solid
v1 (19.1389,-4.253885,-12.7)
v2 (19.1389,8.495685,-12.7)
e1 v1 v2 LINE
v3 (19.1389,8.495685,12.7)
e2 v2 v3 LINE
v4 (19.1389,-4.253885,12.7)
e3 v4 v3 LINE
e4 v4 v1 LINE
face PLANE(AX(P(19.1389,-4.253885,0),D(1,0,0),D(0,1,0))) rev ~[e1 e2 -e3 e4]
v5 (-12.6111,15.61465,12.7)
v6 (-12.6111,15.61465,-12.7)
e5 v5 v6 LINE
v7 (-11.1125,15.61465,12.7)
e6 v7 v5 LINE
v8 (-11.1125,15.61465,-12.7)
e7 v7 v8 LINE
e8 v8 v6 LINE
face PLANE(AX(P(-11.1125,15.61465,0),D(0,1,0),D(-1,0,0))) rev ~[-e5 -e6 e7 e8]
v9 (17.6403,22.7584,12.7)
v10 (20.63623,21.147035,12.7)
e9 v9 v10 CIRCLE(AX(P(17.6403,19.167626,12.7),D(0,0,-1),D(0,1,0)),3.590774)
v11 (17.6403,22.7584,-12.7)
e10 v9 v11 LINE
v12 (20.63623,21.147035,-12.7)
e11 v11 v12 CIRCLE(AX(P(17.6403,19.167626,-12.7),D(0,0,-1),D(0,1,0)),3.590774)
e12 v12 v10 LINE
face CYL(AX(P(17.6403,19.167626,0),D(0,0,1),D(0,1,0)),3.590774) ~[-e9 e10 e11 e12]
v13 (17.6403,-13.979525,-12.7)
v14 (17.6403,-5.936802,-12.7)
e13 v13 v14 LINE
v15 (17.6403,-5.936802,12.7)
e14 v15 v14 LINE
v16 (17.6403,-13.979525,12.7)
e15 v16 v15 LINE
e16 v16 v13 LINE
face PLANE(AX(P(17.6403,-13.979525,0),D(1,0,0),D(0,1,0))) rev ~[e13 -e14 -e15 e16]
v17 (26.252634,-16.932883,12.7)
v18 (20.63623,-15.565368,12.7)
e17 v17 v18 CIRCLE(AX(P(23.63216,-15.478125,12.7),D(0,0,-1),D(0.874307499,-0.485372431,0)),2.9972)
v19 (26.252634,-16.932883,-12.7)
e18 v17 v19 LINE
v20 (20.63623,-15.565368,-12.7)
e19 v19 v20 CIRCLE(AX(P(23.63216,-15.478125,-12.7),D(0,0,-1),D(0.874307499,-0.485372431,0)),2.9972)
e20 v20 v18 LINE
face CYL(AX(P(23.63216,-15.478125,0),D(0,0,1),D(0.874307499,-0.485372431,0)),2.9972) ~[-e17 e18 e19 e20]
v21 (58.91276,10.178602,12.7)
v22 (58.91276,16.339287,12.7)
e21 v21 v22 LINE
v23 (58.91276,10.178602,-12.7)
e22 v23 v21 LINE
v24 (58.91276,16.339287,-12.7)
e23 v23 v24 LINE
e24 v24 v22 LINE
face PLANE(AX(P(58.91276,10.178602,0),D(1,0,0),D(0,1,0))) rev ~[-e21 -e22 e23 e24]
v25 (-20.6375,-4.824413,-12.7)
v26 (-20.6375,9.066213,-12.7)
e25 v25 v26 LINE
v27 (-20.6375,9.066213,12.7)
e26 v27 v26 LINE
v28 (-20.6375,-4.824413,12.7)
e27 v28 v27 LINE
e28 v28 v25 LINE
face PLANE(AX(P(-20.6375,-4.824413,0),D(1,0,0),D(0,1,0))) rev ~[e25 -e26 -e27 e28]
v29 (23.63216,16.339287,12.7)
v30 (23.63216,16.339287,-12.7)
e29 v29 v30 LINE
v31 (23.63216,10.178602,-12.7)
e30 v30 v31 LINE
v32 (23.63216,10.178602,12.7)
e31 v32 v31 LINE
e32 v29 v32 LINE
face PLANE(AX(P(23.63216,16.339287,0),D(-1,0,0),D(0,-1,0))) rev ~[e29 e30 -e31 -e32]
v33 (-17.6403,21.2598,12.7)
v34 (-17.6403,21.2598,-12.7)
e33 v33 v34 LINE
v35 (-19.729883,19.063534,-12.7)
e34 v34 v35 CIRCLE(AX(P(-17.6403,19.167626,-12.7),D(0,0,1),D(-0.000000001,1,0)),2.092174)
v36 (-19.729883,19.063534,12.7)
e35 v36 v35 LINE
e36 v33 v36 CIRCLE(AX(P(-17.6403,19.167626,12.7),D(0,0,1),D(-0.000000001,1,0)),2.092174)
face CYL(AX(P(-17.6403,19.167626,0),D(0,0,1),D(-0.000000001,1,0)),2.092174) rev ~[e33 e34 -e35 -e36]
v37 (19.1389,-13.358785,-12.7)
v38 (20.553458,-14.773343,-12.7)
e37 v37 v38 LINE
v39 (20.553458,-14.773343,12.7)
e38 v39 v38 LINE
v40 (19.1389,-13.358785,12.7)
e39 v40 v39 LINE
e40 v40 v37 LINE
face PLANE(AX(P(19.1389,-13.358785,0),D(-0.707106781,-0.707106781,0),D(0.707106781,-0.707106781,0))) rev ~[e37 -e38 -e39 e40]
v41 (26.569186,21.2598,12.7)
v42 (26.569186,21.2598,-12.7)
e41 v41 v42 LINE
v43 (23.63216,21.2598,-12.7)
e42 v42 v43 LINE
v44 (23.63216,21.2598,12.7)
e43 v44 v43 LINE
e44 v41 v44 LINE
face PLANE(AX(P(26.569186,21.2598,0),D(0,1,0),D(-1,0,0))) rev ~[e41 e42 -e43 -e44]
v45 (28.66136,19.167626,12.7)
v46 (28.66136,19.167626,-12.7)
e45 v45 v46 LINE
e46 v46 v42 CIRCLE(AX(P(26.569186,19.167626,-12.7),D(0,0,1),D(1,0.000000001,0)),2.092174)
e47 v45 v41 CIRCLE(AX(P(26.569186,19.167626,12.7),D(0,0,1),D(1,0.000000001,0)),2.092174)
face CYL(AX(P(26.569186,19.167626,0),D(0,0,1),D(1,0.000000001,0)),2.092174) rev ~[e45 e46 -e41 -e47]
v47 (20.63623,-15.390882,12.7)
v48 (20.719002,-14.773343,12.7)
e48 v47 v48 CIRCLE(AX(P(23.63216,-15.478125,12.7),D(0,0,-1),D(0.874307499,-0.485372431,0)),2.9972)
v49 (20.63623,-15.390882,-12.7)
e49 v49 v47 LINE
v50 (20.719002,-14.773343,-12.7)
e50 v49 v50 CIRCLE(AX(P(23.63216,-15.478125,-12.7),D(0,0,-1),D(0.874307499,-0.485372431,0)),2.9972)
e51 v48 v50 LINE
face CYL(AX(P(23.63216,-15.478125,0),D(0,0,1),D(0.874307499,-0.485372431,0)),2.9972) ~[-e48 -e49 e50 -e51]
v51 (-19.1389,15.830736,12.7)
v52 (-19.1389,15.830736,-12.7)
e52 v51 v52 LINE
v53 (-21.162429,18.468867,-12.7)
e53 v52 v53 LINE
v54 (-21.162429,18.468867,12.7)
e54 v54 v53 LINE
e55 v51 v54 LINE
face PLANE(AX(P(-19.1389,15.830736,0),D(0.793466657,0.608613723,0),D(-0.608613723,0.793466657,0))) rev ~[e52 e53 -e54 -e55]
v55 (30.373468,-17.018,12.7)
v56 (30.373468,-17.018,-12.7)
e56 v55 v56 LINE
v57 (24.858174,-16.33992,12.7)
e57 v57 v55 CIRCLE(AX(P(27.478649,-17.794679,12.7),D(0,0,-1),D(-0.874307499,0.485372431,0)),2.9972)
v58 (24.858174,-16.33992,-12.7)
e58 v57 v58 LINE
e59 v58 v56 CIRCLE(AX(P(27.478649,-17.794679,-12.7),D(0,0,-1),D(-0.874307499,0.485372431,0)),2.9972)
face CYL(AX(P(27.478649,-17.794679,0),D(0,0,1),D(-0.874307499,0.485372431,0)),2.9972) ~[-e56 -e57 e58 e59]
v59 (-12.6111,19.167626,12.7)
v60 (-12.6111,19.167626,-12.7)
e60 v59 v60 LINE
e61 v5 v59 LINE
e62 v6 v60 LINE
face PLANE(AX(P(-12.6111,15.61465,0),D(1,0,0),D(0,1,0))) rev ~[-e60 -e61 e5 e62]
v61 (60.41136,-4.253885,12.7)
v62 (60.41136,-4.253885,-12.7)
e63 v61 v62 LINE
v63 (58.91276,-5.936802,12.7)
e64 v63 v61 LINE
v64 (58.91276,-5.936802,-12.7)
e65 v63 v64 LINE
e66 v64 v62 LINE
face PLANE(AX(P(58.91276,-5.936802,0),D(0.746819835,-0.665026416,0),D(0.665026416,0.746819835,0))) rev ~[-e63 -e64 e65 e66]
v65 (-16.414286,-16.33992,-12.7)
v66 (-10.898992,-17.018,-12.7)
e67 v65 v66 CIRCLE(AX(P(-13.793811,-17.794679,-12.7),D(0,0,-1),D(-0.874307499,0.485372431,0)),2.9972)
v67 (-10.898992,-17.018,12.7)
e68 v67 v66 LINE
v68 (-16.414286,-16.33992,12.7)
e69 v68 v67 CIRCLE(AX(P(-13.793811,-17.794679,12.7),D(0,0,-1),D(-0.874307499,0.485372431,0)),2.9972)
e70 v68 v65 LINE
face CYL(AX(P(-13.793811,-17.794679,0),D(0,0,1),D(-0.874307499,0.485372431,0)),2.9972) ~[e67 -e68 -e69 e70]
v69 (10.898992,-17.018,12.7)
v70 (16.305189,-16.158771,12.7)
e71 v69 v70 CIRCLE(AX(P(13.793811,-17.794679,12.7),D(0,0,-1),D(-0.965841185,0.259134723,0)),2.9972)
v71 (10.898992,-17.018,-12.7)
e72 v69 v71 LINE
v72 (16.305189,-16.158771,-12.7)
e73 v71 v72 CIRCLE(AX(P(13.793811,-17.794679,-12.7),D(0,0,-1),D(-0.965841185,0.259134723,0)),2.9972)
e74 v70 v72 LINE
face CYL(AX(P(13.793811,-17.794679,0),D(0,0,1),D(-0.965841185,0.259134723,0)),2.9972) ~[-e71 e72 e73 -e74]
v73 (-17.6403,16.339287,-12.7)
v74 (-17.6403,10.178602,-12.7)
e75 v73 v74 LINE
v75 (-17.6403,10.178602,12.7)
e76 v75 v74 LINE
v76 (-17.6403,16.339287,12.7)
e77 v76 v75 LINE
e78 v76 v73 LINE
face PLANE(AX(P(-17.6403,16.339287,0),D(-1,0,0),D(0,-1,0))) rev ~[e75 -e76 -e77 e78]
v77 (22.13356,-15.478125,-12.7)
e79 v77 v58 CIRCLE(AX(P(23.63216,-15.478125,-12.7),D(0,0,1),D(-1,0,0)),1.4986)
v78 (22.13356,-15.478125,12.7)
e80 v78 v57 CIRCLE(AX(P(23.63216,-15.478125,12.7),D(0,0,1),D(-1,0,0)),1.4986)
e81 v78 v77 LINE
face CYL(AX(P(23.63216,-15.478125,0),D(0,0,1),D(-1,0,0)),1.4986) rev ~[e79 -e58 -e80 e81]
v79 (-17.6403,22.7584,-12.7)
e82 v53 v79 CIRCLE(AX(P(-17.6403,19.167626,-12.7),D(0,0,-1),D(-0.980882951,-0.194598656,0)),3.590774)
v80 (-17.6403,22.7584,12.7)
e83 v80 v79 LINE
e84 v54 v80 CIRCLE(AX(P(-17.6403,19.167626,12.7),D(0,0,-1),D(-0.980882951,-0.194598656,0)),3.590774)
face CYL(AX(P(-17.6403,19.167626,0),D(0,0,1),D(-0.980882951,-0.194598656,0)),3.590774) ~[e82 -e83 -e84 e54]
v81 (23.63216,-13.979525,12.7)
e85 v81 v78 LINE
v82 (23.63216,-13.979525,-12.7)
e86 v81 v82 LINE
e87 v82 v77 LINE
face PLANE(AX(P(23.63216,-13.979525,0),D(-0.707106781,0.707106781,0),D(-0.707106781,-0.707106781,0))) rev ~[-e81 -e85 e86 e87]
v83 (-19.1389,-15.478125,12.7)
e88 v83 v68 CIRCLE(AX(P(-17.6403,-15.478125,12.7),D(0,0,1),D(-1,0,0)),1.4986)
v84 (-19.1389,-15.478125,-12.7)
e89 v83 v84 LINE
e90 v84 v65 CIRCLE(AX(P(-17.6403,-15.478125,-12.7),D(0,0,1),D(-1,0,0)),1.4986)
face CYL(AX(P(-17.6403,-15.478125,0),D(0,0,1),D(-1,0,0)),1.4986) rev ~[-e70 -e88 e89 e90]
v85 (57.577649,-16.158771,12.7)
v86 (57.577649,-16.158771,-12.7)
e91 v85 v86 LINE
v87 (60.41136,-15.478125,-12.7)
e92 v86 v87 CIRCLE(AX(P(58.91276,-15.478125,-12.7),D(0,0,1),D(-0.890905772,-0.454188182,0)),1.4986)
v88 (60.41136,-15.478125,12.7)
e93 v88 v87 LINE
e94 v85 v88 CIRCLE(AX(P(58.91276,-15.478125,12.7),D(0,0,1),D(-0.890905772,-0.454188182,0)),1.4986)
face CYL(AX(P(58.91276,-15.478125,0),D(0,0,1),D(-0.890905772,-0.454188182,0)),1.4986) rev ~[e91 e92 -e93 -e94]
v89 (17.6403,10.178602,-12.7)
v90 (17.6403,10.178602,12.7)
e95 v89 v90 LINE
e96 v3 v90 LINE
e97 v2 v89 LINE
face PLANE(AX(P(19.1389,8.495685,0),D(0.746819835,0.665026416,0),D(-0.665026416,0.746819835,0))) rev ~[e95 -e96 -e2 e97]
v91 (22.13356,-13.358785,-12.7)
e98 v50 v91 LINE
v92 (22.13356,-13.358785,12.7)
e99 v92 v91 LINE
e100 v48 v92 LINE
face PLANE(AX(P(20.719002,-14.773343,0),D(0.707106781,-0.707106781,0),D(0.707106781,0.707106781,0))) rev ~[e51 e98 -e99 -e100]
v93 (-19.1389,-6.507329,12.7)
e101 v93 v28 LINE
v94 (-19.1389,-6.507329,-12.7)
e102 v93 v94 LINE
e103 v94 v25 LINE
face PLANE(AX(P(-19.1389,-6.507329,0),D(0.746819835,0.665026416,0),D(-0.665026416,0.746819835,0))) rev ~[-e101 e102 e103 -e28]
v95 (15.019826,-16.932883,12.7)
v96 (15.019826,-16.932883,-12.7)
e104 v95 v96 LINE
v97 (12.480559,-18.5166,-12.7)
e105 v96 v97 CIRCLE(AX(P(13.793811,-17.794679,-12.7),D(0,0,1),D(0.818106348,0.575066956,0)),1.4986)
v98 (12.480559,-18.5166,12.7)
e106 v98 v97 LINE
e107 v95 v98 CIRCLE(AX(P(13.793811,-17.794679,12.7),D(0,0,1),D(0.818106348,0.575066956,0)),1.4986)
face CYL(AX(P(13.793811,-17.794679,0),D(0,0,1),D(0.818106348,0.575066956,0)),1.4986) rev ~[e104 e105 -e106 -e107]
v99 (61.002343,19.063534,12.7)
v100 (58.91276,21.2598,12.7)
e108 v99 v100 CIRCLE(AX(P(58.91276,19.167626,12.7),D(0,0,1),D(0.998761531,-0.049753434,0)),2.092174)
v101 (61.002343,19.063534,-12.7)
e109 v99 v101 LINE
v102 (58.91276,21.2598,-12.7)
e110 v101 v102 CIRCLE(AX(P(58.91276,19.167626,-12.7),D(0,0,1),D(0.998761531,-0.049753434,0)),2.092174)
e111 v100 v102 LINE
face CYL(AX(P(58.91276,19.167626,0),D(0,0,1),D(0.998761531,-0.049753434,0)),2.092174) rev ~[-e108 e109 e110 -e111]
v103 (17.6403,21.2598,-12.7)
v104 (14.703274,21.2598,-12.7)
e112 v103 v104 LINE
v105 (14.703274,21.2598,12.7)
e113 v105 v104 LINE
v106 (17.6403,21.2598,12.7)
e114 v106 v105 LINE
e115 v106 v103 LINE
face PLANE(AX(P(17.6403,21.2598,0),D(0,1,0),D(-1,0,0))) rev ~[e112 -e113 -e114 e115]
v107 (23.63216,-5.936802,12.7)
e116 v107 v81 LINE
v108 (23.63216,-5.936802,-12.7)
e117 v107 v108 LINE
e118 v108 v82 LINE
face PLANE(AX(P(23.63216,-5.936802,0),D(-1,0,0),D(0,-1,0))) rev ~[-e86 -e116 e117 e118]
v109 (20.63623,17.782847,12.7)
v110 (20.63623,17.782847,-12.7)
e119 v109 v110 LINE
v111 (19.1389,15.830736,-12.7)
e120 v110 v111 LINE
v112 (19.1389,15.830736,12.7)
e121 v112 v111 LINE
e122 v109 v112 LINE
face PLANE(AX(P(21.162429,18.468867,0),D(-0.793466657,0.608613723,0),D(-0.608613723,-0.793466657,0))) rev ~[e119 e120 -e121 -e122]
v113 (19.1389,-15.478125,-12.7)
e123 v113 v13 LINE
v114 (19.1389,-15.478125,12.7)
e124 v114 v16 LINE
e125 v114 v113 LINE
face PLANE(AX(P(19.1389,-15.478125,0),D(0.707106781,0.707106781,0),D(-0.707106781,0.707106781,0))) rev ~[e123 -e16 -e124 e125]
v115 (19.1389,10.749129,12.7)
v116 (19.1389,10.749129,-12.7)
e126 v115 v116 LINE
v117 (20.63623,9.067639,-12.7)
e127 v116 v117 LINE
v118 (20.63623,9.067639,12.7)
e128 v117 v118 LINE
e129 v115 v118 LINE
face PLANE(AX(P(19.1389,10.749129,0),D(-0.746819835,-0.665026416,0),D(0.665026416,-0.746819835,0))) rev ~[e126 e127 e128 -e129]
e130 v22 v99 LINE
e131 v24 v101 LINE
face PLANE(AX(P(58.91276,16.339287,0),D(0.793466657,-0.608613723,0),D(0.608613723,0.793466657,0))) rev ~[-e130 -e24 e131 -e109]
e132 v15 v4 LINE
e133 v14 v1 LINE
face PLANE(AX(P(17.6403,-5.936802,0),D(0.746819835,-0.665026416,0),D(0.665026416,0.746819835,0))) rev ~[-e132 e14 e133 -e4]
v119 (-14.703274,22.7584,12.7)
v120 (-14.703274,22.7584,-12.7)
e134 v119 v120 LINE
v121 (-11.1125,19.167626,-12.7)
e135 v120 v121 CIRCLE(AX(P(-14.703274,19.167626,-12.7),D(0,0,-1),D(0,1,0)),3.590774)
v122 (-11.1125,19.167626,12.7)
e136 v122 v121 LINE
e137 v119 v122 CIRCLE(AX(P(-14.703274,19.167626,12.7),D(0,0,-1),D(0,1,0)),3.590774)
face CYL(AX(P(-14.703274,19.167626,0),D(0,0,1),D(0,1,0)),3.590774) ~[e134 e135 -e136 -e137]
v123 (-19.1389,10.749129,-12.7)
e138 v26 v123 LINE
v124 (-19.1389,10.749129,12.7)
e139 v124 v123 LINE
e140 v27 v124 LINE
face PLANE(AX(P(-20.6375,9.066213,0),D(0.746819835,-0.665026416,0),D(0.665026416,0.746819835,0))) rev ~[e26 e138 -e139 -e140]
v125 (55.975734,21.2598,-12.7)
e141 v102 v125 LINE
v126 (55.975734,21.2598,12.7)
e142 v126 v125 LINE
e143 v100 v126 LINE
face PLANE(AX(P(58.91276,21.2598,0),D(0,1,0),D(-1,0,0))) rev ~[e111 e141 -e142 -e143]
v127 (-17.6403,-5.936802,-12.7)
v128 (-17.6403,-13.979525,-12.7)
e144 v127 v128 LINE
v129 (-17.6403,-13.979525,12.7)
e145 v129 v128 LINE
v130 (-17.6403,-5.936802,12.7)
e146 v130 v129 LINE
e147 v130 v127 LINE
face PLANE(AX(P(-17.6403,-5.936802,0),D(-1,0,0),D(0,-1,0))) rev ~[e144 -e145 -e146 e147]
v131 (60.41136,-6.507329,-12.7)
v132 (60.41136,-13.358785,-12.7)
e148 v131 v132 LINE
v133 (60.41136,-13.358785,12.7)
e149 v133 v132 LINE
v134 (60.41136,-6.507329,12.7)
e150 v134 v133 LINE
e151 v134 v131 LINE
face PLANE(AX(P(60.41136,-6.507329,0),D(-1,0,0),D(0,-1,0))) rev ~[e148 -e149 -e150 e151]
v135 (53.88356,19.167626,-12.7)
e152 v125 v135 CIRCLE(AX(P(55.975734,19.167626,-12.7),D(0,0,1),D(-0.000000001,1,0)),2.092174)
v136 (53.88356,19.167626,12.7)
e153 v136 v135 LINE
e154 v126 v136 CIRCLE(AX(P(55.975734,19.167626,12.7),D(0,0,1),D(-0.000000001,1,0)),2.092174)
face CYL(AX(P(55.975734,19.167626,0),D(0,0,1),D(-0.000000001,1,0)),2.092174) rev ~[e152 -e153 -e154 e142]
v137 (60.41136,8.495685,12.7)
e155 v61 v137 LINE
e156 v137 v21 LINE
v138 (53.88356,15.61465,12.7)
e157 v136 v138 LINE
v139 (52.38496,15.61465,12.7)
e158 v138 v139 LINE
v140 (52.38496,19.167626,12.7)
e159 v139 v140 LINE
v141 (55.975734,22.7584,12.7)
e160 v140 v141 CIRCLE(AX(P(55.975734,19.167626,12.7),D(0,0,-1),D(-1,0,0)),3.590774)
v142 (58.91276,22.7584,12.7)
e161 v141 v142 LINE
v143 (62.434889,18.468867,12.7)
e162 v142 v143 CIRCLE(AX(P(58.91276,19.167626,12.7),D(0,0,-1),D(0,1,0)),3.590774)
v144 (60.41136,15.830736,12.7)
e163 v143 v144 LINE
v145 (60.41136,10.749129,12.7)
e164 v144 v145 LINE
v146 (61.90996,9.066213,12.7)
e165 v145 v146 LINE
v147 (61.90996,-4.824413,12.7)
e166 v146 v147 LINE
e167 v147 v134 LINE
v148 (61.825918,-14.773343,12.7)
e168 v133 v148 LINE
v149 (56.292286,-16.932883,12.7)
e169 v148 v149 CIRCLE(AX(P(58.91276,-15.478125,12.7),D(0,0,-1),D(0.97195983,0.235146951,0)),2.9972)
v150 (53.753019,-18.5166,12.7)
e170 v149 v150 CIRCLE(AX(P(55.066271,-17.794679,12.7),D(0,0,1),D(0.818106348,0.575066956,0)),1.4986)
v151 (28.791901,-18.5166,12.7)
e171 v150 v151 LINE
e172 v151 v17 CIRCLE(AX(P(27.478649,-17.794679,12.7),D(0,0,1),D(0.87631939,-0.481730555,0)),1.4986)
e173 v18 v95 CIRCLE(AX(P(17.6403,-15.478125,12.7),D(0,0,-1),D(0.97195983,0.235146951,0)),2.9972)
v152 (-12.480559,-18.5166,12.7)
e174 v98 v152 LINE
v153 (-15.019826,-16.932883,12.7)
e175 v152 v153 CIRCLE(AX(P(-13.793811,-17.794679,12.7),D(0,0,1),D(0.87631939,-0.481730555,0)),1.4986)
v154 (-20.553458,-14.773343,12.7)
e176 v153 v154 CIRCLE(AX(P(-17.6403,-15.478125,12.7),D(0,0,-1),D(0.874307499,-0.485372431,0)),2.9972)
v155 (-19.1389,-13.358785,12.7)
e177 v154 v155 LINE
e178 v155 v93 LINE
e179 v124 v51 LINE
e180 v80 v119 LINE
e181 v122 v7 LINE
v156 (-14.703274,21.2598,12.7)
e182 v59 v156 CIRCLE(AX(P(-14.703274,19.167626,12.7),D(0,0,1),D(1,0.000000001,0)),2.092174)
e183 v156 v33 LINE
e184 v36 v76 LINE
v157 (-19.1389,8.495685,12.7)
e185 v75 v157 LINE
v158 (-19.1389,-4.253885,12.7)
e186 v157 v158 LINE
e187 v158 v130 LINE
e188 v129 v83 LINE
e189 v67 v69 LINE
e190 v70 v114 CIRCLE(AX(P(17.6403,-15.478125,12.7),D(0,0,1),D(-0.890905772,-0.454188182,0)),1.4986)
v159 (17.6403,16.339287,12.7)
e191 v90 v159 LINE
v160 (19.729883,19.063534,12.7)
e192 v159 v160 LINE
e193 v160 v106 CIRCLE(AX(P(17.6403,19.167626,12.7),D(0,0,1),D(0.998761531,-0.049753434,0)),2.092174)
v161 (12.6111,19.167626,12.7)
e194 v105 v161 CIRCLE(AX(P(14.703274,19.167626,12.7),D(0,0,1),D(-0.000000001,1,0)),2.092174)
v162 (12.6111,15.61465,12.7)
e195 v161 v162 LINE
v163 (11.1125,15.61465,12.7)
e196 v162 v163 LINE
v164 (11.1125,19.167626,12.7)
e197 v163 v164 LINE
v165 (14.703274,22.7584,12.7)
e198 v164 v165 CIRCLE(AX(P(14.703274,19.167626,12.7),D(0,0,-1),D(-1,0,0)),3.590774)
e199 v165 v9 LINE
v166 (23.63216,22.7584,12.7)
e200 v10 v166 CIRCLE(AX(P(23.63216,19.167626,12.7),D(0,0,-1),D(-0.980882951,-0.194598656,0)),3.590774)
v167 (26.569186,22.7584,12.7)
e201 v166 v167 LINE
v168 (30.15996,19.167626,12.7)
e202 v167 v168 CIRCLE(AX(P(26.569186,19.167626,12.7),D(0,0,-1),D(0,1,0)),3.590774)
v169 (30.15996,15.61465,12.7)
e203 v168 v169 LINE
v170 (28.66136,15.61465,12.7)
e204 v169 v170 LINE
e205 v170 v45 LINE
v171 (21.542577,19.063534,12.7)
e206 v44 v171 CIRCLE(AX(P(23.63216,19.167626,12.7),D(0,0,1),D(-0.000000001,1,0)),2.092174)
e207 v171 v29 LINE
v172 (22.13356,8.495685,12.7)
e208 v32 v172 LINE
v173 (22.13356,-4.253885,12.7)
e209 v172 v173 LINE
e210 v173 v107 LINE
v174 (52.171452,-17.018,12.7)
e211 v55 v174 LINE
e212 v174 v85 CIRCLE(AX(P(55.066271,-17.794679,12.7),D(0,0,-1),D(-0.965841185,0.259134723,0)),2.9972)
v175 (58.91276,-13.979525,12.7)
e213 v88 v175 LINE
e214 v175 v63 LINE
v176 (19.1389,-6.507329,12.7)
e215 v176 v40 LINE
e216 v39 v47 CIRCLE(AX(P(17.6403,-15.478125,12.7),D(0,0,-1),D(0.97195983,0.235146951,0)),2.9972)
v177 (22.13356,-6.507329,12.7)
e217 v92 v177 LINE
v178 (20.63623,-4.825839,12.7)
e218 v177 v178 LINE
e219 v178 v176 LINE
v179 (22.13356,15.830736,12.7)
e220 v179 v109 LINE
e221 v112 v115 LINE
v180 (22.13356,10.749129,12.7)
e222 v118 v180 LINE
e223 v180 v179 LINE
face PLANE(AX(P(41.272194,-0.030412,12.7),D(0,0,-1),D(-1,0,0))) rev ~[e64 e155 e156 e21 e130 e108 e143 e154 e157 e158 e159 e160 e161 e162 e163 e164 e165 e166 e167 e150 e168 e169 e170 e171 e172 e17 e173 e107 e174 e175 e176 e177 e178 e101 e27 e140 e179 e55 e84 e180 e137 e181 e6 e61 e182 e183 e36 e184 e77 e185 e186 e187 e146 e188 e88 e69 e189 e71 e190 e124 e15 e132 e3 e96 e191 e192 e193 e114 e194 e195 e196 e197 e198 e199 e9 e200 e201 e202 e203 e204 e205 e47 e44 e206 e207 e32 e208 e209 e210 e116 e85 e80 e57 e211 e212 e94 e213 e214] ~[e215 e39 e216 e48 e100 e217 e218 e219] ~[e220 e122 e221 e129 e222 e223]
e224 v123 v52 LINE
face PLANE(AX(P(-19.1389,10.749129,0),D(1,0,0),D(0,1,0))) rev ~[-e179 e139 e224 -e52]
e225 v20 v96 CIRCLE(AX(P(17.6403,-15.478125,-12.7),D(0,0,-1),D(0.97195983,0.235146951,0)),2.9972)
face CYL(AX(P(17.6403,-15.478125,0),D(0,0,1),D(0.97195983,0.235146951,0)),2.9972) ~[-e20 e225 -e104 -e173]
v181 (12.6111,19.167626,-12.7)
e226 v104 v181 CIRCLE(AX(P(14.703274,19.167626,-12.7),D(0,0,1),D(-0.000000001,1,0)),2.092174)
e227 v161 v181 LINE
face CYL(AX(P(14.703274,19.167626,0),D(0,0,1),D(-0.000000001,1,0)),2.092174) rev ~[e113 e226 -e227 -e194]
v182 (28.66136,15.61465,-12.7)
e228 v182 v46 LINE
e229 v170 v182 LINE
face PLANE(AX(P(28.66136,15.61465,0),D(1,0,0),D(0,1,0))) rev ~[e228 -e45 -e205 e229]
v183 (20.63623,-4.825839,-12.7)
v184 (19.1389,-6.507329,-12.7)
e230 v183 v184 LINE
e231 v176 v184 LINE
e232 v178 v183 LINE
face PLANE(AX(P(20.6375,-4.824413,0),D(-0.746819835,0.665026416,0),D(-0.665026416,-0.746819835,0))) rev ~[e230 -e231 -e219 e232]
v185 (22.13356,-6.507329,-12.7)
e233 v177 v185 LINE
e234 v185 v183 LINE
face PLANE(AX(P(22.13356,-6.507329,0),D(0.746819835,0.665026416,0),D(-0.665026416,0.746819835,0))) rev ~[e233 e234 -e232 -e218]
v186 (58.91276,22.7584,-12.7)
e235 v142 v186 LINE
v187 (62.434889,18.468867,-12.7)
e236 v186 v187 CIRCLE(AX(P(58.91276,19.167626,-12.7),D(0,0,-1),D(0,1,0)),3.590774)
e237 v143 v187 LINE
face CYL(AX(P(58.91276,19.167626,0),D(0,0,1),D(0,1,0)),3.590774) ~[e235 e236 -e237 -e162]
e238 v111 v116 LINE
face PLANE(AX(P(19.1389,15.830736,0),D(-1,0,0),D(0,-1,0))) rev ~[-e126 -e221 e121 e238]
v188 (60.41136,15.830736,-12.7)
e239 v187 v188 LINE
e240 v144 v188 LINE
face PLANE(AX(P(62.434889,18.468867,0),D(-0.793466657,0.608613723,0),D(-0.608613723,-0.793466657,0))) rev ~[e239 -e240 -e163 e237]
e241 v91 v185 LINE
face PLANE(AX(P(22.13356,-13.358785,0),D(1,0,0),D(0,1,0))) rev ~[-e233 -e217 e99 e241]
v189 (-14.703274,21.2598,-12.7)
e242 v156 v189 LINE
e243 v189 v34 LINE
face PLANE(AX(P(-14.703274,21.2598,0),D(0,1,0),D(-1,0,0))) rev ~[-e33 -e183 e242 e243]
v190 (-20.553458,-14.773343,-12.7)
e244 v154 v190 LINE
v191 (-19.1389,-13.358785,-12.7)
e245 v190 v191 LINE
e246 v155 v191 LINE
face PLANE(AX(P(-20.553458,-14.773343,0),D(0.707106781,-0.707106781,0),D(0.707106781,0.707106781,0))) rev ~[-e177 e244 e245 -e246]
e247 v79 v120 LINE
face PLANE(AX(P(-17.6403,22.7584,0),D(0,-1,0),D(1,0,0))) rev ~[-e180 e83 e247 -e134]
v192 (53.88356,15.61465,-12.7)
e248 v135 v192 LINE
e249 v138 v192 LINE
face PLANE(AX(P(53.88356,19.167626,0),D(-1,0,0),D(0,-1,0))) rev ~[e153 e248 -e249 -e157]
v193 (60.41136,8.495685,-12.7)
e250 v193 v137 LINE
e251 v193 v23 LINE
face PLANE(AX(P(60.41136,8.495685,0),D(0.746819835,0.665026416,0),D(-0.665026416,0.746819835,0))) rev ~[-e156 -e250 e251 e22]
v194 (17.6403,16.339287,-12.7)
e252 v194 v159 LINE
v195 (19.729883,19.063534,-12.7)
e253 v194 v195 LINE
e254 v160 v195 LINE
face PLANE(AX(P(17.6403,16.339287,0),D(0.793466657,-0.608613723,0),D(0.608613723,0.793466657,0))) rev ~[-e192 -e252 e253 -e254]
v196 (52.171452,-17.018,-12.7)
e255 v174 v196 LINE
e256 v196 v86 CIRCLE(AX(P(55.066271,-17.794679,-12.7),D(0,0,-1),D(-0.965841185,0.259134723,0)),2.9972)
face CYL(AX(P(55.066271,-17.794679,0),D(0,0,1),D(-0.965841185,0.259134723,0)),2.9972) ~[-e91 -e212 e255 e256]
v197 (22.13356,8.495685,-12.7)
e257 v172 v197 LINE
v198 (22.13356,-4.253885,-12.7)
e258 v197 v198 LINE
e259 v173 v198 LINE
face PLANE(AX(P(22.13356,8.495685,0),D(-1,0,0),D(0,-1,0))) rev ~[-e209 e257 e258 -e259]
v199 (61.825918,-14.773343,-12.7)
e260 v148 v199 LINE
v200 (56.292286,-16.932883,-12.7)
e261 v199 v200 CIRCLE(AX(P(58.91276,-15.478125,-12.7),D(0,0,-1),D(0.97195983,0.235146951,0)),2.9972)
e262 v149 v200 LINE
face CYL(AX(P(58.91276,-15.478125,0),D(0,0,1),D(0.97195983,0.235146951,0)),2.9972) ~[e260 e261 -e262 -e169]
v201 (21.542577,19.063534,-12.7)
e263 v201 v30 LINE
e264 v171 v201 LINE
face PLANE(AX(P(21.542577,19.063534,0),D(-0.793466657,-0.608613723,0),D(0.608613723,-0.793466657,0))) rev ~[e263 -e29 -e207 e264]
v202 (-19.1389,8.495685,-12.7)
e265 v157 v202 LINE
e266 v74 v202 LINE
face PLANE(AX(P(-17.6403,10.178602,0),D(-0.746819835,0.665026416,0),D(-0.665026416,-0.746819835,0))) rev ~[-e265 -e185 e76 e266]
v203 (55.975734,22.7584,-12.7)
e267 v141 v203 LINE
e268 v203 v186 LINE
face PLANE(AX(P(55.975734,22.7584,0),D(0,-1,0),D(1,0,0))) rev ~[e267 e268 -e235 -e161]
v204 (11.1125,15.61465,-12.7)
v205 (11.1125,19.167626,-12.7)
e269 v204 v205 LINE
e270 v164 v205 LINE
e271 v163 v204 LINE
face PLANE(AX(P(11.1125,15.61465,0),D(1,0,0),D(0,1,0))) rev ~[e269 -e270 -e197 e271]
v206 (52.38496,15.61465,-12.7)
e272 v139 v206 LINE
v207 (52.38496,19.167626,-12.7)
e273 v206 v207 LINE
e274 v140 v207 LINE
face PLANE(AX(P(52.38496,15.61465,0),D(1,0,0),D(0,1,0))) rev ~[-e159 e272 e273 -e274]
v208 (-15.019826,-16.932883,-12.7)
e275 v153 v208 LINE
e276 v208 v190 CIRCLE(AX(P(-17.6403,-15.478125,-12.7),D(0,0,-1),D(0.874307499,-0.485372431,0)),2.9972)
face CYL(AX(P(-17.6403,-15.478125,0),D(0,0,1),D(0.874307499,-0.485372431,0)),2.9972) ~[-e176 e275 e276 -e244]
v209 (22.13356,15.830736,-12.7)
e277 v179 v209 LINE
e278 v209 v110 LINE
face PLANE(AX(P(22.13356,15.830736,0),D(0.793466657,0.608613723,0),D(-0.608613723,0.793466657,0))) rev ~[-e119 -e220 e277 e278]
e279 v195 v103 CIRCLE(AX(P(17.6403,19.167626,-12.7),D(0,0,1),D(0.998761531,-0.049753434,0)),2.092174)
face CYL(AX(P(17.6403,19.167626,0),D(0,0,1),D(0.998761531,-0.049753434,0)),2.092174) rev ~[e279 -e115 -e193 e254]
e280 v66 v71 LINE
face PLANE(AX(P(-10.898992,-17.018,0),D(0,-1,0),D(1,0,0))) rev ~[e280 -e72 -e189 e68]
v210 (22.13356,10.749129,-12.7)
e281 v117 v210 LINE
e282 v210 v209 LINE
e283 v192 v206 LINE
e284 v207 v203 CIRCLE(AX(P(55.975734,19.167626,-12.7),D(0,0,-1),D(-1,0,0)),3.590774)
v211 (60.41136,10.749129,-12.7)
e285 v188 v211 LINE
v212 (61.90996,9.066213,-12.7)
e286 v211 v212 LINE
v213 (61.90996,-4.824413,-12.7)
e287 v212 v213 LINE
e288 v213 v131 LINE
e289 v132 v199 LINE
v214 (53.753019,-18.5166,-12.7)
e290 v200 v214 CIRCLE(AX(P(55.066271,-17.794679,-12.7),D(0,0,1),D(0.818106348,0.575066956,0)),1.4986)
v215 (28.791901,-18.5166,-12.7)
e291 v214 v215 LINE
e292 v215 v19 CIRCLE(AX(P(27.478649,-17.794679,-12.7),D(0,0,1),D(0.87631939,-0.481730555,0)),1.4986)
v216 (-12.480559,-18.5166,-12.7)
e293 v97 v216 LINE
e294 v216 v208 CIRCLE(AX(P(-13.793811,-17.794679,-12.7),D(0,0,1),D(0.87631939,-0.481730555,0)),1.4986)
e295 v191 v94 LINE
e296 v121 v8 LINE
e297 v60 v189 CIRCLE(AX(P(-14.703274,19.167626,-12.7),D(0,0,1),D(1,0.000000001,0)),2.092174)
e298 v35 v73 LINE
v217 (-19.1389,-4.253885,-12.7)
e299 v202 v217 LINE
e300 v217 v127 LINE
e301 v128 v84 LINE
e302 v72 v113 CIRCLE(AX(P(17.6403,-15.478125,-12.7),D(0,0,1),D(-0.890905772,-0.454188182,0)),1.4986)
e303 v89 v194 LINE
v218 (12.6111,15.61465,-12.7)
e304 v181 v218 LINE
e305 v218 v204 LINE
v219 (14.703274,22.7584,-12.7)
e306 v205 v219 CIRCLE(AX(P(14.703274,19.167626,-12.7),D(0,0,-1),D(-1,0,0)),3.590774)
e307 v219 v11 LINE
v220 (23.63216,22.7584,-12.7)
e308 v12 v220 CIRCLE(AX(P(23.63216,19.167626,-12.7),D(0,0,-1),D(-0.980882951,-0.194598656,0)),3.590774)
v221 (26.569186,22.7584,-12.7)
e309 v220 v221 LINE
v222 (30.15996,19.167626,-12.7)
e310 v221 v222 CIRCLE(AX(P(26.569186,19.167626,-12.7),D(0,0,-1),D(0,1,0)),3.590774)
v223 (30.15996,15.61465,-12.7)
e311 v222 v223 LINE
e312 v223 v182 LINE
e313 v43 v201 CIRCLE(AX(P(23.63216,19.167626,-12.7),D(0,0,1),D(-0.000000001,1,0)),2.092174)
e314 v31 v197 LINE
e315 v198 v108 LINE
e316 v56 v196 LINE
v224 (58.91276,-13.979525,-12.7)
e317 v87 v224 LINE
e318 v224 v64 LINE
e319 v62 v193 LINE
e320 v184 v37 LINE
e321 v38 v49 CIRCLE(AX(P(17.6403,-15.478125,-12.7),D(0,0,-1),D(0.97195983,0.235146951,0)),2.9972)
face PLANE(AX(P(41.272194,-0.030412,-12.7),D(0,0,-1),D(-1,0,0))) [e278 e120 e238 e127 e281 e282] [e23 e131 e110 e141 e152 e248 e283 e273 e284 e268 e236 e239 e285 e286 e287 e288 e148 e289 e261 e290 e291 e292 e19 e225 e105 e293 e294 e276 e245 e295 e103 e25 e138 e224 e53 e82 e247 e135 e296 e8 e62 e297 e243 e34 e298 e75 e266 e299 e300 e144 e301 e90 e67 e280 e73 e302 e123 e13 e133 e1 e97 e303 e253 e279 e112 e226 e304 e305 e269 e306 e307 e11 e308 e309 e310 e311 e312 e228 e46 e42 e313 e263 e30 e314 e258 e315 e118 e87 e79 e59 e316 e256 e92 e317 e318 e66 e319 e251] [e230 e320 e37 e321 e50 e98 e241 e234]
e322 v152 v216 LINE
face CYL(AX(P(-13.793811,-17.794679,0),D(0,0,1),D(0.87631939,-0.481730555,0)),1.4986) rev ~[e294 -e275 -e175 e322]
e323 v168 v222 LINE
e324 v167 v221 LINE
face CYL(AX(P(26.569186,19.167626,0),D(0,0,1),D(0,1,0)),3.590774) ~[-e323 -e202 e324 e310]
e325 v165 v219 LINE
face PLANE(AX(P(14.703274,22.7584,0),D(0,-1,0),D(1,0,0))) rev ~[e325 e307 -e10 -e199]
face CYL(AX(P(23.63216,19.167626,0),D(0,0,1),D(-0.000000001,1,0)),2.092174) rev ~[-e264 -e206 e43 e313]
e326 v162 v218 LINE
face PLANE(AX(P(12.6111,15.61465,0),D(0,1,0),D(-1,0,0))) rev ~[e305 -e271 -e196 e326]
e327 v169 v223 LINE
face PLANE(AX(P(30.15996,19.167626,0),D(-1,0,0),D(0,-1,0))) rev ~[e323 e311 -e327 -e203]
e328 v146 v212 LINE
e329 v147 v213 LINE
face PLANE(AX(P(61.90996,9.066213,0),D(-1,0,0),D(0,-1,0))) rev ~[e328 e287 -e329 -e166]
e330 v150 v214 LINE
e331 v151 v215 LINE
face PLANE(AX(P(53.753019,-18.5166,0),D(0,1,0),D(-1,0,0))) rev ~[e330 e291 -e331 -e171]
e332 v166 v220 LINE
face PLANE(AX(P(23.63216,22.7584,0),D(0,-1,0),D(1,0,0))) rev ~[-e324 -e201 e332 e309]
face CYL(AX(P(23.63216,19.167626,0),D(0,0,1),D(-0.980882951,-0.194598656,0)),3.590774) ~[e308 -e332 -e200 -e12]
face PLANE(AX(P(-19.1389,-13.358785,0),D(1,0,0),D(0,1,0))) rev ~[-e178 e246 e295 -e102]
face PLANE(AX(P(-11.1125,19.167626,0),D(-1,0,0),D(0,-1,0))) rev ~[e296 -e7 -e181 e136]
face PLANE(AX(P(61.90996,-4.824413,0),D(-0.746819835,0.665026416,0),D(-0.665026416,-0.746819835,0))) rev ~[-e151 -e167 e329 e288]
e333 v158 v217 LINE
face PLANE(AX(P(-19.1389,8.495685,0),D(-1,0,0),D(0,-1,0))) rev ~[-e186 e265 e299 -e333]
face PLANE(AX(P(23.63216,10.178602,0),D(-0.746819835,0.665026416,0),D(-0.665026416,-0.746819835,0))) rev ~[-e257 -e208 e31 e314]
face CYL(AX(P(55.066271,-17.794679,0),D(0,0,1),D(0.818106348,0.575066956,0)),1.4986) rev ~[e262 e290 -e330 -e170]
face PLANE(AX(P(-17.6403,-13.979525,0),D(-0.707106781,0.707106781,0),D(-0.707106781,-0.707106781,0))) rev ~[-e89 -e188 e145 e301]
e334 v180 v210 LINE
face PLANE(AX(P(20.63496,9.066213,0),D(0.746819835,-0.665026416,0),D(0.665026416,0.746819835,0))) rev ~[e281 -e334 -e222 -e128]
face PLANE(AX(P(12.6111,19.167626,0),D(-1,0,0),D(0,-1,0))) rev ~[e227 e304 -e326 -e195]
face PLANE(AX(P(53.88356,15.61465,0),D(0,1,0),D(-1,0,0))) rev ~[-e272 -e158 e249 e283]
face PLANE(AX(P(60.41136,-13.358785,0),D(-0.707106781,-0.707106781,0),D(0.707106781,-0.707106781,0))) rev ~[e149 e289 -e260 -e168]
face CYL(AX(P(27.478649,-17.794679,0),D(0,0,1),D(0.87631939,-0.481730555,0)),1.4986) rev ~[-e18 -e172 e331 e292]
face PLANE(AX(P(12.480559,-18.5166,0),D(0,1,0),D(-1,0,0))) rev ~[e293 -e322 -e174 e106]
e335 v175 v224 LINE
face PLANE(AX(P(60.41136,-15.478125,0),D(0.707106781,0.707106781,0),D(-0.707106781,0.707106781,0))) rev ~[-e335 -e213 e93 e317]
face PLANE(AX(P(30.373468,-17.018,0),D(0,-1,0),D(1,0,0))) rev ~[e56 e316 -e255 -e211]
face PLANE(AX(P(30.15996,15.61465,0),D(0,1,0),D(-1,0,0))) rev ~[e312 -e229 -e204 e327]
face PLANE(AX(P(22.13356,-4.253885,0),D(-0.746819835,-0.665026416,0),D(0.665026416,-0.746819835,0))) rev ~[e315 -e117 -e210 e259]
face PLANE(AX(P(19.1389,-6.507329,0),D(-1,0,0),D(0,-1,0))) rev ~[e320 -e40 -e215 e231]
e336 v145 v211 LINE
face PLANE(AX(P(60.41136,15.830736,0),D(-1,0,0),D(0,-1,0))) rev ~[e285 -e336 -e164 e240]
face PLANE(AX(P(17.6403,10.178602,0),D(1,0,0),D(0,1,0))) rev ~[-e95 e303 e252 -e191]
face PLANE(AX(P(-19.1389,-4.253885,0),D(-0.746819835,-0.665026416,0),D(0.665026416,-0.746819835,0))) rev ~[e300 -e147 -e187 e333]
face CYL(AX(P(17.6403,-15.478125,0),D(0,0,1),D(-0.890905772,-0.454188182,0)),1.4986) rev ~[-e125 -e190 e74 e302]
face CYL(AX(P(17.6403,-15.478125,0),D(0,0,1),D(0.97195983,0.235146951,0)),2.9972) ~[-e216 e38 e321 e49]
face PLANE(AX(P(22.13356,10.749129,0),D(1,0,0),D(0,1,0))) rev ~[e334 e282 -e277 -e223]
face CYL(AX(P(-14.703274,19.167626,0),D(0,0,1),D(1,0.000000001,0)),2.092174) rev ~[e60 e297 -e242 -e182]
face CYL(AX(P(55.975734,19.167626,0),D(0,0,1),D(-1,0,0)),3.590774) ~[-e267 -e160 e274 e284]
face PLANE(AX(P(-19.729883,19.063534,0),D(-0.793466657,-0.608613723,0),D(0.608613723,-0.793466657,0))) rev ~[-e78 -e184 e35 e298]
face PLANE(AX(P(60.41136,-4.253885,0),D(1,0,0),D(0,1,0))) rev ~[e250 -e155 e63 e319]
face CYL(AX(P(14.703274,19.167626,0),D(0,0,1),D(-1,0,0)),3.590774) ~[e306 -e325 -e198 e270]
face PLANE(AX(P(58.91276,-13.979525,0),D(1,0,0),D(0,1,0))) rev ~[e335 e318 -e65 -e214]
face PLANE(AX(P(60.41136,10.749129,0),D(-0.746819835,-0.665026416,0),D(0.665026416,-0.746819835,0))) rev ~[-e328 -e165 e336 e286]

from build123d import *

# Parameters (mm, degrees)
BASE_EXTRUDE_DEPTH = 12.7
LPATTERN2_COUNT    = 2
LPATTERN2_PITCH    = 41.27246


with BuildPart() as part:
    # Sketch1 → Base-Extrude (new, symmetric)
    with BuildSketch(Plane.XY):
        with BuildLine():
            Line((17.6403, 16.339286512), (19.729882578, 19.063533504))
            ThreePointArc((19.729882578, 19.063533504), (19.156045845, 20.609744632), (17.6403, 21.2598))
            Line((17.6403, 21.2598), (14.70327367, 21.2598))
            ThreePointArc((14.70327367, 21.2598), (13.223883481, 20.647016519), (12.6111, 19.16762633))
            Line((12.6111, 19.16762633), (12.6111, 15.61465))
            Line((12.6111, 15.61465), (11.1125, 15.61465))
            Line((11.1125, 15.61465), (11.1125, 19.16762633))
            ThreePointArc((11.1125, 19.16762633), (12.164213258, 21.706686742), (14.70327367, 22.7584))
            Line((14.70327367, 22.7584), (17.6403, 22.7584))
            ThreePointArc((17.6403, 22.7584), (20.415434554, 21.446284653), (21.162428673, 18.4688666))
            Line((21.162428673, 18.4688666), (19.1389, 15.830735923))
            Line((19.1389, 15.830735923), (19.1389, 10.749129415))
            Line((19.1389, 10.749129415), (20.6375, 9.0662125))
            Line((20.6375, 9.0662125), (20.6375, -4.8244125))
            Line((20.6375, -4.8244125), (19.1389, -6.507329415))
            Line((19.1389, -6.507329415), (19.1389, -13.358784555))
            Line((19.1389, -13.358784555), (20.553458003, -14.773342558))
            ThreePointArc((20.553458003, -14.773342558), (18.729942105, -18.270236732), (15.019825564, -16.932883251))
            ThreePointArc((15.019825564, -16.932883251), (13.000752562, -16.523120627), (12.480559153, -18.5166))
            Line((12.480559153, -18.5166), (-12.480559153, -18.5166))
            ThreePointArc((-12.480559153, -18.5166), (-13.000752562, -16.523120627), (-15.019825564, -16.932883251))
            ThreePointArc((-15.019825564, -16.932883251), (-18.729942105, -18.270236732), (-20.553458003, -14.773342558))
            Line((-20.553458003, -14.773342558), (-19.1389, -13.358784555))
            Line((-19.1389, -13.358784555), (-19.1389, -6.507329415))
            Line((-19.1389, -6.507329415), (-20.6375, -4.8244125))
            Line((-20.6375, -4.8244125), (-20.6375, 9.0662125))
            Line((-20.6375, 9.0662125), (-19.1389, 10.749129415))
            Line((-19.1389, 10.749129415), (-19.1389, 15.830735923))
            Line((-19.1389, 15.830735923), (-21.162428673, 18.4688666))
            ThreePointArc((-21.162428673, 18.4688666), (-20.415434554, 21.446284653), (-17.6403, 22.7584))
            Line((-17.6403, 22.7584), (-14.70327367, 22.7584))
            ThreePointArc((-14.70327367, 22.7584), (-12.164213258, 21.706686742), (-11.1125, 19.16762633))
            Line((-11.1125, 19.16762633), (-11.1125, 15.61465))
            Line((-11.1125, 15.61465), (-12.6111, 15.61465))
            Line((-12.6111, 15.61465), (-12.6111, 19.16762633))
            ThreePointArc((-12.6111, 19.16762633), (-13.223883481, 20.647016519), (-14.70327367, 21.2598))
            Line((-14.70327367, 21.2598), (-17.6403, 21.2598))
            ThreePointArc((-17.6403, 21.2598), (-19.156045845, 20.609744632), (-19.729882578, 19.063533504))
            Line((-19.729882578, 19.063533504), (-17.6403, 16.339286512))
            Line((-17.6403, 16.339286512), (-17.6403, 10.17860201))
            Line((-17.6403, 10.17860201), (-19.1389, 8.495685095))
            Line((-19.1389, 8.495685095), (-19.1389, -4.253885095))
            Line((-19.1389, -4.253885095), (-17.6403, -5.93680201))
            Line((-17.6403, -5.93680201), (-17.6403, -13.979525))
            Line((-17.6403, -13.979525), (-19.1389, -15.478125))
            ThreePointArc((-19.1389, -15.478125), (-18.092238669, -16.906954381), (-16.414285827, -16.33992034))
            ThreePointArc((-16.414285827, -16.33992034), (-13.428073412, -14.819877156), (-10.898992189, -17.018))
            Line((-10.898992189, -17.018), (10.898992189, -17.018))
            ThreePointArc((10.898992189, -17.018), (13.323359075, -14.834630878), (16.30518861, -16.15877141))
            ThreePointArc((16.30518861, -16.15877141), (17.990302879, -16.935279743), (19.1389, -15.478125))
            Line((19.1389, -15.478125), (17.6403, -13.979525))
            Line((17.6403, -13.979525), (17.6403, -5.93680201))
            Line((17.6403, -5.93680201), (19.1389, -4.253885095))
            Line((19.1389, -4.253885095), (19.1389, 8.495685095))
            Line((19.1389, 8.495685095), (17.6403, 10.17860201))
            Line((17.6403, 10.17860201), (17.6403, 16.339286512))
        make_face()
    base_extrude = extrude(amount=BASE_EXTRUDE_DEPTH, both=True)

    # LPattern2: Base-Extrude ×2
    with Locations(*[(i * LPATTERN2_PITCH, 0, 0) for i in range(1, LPATTERN2_COUNT)]):
        add(base_extrude)


solid = part.part
